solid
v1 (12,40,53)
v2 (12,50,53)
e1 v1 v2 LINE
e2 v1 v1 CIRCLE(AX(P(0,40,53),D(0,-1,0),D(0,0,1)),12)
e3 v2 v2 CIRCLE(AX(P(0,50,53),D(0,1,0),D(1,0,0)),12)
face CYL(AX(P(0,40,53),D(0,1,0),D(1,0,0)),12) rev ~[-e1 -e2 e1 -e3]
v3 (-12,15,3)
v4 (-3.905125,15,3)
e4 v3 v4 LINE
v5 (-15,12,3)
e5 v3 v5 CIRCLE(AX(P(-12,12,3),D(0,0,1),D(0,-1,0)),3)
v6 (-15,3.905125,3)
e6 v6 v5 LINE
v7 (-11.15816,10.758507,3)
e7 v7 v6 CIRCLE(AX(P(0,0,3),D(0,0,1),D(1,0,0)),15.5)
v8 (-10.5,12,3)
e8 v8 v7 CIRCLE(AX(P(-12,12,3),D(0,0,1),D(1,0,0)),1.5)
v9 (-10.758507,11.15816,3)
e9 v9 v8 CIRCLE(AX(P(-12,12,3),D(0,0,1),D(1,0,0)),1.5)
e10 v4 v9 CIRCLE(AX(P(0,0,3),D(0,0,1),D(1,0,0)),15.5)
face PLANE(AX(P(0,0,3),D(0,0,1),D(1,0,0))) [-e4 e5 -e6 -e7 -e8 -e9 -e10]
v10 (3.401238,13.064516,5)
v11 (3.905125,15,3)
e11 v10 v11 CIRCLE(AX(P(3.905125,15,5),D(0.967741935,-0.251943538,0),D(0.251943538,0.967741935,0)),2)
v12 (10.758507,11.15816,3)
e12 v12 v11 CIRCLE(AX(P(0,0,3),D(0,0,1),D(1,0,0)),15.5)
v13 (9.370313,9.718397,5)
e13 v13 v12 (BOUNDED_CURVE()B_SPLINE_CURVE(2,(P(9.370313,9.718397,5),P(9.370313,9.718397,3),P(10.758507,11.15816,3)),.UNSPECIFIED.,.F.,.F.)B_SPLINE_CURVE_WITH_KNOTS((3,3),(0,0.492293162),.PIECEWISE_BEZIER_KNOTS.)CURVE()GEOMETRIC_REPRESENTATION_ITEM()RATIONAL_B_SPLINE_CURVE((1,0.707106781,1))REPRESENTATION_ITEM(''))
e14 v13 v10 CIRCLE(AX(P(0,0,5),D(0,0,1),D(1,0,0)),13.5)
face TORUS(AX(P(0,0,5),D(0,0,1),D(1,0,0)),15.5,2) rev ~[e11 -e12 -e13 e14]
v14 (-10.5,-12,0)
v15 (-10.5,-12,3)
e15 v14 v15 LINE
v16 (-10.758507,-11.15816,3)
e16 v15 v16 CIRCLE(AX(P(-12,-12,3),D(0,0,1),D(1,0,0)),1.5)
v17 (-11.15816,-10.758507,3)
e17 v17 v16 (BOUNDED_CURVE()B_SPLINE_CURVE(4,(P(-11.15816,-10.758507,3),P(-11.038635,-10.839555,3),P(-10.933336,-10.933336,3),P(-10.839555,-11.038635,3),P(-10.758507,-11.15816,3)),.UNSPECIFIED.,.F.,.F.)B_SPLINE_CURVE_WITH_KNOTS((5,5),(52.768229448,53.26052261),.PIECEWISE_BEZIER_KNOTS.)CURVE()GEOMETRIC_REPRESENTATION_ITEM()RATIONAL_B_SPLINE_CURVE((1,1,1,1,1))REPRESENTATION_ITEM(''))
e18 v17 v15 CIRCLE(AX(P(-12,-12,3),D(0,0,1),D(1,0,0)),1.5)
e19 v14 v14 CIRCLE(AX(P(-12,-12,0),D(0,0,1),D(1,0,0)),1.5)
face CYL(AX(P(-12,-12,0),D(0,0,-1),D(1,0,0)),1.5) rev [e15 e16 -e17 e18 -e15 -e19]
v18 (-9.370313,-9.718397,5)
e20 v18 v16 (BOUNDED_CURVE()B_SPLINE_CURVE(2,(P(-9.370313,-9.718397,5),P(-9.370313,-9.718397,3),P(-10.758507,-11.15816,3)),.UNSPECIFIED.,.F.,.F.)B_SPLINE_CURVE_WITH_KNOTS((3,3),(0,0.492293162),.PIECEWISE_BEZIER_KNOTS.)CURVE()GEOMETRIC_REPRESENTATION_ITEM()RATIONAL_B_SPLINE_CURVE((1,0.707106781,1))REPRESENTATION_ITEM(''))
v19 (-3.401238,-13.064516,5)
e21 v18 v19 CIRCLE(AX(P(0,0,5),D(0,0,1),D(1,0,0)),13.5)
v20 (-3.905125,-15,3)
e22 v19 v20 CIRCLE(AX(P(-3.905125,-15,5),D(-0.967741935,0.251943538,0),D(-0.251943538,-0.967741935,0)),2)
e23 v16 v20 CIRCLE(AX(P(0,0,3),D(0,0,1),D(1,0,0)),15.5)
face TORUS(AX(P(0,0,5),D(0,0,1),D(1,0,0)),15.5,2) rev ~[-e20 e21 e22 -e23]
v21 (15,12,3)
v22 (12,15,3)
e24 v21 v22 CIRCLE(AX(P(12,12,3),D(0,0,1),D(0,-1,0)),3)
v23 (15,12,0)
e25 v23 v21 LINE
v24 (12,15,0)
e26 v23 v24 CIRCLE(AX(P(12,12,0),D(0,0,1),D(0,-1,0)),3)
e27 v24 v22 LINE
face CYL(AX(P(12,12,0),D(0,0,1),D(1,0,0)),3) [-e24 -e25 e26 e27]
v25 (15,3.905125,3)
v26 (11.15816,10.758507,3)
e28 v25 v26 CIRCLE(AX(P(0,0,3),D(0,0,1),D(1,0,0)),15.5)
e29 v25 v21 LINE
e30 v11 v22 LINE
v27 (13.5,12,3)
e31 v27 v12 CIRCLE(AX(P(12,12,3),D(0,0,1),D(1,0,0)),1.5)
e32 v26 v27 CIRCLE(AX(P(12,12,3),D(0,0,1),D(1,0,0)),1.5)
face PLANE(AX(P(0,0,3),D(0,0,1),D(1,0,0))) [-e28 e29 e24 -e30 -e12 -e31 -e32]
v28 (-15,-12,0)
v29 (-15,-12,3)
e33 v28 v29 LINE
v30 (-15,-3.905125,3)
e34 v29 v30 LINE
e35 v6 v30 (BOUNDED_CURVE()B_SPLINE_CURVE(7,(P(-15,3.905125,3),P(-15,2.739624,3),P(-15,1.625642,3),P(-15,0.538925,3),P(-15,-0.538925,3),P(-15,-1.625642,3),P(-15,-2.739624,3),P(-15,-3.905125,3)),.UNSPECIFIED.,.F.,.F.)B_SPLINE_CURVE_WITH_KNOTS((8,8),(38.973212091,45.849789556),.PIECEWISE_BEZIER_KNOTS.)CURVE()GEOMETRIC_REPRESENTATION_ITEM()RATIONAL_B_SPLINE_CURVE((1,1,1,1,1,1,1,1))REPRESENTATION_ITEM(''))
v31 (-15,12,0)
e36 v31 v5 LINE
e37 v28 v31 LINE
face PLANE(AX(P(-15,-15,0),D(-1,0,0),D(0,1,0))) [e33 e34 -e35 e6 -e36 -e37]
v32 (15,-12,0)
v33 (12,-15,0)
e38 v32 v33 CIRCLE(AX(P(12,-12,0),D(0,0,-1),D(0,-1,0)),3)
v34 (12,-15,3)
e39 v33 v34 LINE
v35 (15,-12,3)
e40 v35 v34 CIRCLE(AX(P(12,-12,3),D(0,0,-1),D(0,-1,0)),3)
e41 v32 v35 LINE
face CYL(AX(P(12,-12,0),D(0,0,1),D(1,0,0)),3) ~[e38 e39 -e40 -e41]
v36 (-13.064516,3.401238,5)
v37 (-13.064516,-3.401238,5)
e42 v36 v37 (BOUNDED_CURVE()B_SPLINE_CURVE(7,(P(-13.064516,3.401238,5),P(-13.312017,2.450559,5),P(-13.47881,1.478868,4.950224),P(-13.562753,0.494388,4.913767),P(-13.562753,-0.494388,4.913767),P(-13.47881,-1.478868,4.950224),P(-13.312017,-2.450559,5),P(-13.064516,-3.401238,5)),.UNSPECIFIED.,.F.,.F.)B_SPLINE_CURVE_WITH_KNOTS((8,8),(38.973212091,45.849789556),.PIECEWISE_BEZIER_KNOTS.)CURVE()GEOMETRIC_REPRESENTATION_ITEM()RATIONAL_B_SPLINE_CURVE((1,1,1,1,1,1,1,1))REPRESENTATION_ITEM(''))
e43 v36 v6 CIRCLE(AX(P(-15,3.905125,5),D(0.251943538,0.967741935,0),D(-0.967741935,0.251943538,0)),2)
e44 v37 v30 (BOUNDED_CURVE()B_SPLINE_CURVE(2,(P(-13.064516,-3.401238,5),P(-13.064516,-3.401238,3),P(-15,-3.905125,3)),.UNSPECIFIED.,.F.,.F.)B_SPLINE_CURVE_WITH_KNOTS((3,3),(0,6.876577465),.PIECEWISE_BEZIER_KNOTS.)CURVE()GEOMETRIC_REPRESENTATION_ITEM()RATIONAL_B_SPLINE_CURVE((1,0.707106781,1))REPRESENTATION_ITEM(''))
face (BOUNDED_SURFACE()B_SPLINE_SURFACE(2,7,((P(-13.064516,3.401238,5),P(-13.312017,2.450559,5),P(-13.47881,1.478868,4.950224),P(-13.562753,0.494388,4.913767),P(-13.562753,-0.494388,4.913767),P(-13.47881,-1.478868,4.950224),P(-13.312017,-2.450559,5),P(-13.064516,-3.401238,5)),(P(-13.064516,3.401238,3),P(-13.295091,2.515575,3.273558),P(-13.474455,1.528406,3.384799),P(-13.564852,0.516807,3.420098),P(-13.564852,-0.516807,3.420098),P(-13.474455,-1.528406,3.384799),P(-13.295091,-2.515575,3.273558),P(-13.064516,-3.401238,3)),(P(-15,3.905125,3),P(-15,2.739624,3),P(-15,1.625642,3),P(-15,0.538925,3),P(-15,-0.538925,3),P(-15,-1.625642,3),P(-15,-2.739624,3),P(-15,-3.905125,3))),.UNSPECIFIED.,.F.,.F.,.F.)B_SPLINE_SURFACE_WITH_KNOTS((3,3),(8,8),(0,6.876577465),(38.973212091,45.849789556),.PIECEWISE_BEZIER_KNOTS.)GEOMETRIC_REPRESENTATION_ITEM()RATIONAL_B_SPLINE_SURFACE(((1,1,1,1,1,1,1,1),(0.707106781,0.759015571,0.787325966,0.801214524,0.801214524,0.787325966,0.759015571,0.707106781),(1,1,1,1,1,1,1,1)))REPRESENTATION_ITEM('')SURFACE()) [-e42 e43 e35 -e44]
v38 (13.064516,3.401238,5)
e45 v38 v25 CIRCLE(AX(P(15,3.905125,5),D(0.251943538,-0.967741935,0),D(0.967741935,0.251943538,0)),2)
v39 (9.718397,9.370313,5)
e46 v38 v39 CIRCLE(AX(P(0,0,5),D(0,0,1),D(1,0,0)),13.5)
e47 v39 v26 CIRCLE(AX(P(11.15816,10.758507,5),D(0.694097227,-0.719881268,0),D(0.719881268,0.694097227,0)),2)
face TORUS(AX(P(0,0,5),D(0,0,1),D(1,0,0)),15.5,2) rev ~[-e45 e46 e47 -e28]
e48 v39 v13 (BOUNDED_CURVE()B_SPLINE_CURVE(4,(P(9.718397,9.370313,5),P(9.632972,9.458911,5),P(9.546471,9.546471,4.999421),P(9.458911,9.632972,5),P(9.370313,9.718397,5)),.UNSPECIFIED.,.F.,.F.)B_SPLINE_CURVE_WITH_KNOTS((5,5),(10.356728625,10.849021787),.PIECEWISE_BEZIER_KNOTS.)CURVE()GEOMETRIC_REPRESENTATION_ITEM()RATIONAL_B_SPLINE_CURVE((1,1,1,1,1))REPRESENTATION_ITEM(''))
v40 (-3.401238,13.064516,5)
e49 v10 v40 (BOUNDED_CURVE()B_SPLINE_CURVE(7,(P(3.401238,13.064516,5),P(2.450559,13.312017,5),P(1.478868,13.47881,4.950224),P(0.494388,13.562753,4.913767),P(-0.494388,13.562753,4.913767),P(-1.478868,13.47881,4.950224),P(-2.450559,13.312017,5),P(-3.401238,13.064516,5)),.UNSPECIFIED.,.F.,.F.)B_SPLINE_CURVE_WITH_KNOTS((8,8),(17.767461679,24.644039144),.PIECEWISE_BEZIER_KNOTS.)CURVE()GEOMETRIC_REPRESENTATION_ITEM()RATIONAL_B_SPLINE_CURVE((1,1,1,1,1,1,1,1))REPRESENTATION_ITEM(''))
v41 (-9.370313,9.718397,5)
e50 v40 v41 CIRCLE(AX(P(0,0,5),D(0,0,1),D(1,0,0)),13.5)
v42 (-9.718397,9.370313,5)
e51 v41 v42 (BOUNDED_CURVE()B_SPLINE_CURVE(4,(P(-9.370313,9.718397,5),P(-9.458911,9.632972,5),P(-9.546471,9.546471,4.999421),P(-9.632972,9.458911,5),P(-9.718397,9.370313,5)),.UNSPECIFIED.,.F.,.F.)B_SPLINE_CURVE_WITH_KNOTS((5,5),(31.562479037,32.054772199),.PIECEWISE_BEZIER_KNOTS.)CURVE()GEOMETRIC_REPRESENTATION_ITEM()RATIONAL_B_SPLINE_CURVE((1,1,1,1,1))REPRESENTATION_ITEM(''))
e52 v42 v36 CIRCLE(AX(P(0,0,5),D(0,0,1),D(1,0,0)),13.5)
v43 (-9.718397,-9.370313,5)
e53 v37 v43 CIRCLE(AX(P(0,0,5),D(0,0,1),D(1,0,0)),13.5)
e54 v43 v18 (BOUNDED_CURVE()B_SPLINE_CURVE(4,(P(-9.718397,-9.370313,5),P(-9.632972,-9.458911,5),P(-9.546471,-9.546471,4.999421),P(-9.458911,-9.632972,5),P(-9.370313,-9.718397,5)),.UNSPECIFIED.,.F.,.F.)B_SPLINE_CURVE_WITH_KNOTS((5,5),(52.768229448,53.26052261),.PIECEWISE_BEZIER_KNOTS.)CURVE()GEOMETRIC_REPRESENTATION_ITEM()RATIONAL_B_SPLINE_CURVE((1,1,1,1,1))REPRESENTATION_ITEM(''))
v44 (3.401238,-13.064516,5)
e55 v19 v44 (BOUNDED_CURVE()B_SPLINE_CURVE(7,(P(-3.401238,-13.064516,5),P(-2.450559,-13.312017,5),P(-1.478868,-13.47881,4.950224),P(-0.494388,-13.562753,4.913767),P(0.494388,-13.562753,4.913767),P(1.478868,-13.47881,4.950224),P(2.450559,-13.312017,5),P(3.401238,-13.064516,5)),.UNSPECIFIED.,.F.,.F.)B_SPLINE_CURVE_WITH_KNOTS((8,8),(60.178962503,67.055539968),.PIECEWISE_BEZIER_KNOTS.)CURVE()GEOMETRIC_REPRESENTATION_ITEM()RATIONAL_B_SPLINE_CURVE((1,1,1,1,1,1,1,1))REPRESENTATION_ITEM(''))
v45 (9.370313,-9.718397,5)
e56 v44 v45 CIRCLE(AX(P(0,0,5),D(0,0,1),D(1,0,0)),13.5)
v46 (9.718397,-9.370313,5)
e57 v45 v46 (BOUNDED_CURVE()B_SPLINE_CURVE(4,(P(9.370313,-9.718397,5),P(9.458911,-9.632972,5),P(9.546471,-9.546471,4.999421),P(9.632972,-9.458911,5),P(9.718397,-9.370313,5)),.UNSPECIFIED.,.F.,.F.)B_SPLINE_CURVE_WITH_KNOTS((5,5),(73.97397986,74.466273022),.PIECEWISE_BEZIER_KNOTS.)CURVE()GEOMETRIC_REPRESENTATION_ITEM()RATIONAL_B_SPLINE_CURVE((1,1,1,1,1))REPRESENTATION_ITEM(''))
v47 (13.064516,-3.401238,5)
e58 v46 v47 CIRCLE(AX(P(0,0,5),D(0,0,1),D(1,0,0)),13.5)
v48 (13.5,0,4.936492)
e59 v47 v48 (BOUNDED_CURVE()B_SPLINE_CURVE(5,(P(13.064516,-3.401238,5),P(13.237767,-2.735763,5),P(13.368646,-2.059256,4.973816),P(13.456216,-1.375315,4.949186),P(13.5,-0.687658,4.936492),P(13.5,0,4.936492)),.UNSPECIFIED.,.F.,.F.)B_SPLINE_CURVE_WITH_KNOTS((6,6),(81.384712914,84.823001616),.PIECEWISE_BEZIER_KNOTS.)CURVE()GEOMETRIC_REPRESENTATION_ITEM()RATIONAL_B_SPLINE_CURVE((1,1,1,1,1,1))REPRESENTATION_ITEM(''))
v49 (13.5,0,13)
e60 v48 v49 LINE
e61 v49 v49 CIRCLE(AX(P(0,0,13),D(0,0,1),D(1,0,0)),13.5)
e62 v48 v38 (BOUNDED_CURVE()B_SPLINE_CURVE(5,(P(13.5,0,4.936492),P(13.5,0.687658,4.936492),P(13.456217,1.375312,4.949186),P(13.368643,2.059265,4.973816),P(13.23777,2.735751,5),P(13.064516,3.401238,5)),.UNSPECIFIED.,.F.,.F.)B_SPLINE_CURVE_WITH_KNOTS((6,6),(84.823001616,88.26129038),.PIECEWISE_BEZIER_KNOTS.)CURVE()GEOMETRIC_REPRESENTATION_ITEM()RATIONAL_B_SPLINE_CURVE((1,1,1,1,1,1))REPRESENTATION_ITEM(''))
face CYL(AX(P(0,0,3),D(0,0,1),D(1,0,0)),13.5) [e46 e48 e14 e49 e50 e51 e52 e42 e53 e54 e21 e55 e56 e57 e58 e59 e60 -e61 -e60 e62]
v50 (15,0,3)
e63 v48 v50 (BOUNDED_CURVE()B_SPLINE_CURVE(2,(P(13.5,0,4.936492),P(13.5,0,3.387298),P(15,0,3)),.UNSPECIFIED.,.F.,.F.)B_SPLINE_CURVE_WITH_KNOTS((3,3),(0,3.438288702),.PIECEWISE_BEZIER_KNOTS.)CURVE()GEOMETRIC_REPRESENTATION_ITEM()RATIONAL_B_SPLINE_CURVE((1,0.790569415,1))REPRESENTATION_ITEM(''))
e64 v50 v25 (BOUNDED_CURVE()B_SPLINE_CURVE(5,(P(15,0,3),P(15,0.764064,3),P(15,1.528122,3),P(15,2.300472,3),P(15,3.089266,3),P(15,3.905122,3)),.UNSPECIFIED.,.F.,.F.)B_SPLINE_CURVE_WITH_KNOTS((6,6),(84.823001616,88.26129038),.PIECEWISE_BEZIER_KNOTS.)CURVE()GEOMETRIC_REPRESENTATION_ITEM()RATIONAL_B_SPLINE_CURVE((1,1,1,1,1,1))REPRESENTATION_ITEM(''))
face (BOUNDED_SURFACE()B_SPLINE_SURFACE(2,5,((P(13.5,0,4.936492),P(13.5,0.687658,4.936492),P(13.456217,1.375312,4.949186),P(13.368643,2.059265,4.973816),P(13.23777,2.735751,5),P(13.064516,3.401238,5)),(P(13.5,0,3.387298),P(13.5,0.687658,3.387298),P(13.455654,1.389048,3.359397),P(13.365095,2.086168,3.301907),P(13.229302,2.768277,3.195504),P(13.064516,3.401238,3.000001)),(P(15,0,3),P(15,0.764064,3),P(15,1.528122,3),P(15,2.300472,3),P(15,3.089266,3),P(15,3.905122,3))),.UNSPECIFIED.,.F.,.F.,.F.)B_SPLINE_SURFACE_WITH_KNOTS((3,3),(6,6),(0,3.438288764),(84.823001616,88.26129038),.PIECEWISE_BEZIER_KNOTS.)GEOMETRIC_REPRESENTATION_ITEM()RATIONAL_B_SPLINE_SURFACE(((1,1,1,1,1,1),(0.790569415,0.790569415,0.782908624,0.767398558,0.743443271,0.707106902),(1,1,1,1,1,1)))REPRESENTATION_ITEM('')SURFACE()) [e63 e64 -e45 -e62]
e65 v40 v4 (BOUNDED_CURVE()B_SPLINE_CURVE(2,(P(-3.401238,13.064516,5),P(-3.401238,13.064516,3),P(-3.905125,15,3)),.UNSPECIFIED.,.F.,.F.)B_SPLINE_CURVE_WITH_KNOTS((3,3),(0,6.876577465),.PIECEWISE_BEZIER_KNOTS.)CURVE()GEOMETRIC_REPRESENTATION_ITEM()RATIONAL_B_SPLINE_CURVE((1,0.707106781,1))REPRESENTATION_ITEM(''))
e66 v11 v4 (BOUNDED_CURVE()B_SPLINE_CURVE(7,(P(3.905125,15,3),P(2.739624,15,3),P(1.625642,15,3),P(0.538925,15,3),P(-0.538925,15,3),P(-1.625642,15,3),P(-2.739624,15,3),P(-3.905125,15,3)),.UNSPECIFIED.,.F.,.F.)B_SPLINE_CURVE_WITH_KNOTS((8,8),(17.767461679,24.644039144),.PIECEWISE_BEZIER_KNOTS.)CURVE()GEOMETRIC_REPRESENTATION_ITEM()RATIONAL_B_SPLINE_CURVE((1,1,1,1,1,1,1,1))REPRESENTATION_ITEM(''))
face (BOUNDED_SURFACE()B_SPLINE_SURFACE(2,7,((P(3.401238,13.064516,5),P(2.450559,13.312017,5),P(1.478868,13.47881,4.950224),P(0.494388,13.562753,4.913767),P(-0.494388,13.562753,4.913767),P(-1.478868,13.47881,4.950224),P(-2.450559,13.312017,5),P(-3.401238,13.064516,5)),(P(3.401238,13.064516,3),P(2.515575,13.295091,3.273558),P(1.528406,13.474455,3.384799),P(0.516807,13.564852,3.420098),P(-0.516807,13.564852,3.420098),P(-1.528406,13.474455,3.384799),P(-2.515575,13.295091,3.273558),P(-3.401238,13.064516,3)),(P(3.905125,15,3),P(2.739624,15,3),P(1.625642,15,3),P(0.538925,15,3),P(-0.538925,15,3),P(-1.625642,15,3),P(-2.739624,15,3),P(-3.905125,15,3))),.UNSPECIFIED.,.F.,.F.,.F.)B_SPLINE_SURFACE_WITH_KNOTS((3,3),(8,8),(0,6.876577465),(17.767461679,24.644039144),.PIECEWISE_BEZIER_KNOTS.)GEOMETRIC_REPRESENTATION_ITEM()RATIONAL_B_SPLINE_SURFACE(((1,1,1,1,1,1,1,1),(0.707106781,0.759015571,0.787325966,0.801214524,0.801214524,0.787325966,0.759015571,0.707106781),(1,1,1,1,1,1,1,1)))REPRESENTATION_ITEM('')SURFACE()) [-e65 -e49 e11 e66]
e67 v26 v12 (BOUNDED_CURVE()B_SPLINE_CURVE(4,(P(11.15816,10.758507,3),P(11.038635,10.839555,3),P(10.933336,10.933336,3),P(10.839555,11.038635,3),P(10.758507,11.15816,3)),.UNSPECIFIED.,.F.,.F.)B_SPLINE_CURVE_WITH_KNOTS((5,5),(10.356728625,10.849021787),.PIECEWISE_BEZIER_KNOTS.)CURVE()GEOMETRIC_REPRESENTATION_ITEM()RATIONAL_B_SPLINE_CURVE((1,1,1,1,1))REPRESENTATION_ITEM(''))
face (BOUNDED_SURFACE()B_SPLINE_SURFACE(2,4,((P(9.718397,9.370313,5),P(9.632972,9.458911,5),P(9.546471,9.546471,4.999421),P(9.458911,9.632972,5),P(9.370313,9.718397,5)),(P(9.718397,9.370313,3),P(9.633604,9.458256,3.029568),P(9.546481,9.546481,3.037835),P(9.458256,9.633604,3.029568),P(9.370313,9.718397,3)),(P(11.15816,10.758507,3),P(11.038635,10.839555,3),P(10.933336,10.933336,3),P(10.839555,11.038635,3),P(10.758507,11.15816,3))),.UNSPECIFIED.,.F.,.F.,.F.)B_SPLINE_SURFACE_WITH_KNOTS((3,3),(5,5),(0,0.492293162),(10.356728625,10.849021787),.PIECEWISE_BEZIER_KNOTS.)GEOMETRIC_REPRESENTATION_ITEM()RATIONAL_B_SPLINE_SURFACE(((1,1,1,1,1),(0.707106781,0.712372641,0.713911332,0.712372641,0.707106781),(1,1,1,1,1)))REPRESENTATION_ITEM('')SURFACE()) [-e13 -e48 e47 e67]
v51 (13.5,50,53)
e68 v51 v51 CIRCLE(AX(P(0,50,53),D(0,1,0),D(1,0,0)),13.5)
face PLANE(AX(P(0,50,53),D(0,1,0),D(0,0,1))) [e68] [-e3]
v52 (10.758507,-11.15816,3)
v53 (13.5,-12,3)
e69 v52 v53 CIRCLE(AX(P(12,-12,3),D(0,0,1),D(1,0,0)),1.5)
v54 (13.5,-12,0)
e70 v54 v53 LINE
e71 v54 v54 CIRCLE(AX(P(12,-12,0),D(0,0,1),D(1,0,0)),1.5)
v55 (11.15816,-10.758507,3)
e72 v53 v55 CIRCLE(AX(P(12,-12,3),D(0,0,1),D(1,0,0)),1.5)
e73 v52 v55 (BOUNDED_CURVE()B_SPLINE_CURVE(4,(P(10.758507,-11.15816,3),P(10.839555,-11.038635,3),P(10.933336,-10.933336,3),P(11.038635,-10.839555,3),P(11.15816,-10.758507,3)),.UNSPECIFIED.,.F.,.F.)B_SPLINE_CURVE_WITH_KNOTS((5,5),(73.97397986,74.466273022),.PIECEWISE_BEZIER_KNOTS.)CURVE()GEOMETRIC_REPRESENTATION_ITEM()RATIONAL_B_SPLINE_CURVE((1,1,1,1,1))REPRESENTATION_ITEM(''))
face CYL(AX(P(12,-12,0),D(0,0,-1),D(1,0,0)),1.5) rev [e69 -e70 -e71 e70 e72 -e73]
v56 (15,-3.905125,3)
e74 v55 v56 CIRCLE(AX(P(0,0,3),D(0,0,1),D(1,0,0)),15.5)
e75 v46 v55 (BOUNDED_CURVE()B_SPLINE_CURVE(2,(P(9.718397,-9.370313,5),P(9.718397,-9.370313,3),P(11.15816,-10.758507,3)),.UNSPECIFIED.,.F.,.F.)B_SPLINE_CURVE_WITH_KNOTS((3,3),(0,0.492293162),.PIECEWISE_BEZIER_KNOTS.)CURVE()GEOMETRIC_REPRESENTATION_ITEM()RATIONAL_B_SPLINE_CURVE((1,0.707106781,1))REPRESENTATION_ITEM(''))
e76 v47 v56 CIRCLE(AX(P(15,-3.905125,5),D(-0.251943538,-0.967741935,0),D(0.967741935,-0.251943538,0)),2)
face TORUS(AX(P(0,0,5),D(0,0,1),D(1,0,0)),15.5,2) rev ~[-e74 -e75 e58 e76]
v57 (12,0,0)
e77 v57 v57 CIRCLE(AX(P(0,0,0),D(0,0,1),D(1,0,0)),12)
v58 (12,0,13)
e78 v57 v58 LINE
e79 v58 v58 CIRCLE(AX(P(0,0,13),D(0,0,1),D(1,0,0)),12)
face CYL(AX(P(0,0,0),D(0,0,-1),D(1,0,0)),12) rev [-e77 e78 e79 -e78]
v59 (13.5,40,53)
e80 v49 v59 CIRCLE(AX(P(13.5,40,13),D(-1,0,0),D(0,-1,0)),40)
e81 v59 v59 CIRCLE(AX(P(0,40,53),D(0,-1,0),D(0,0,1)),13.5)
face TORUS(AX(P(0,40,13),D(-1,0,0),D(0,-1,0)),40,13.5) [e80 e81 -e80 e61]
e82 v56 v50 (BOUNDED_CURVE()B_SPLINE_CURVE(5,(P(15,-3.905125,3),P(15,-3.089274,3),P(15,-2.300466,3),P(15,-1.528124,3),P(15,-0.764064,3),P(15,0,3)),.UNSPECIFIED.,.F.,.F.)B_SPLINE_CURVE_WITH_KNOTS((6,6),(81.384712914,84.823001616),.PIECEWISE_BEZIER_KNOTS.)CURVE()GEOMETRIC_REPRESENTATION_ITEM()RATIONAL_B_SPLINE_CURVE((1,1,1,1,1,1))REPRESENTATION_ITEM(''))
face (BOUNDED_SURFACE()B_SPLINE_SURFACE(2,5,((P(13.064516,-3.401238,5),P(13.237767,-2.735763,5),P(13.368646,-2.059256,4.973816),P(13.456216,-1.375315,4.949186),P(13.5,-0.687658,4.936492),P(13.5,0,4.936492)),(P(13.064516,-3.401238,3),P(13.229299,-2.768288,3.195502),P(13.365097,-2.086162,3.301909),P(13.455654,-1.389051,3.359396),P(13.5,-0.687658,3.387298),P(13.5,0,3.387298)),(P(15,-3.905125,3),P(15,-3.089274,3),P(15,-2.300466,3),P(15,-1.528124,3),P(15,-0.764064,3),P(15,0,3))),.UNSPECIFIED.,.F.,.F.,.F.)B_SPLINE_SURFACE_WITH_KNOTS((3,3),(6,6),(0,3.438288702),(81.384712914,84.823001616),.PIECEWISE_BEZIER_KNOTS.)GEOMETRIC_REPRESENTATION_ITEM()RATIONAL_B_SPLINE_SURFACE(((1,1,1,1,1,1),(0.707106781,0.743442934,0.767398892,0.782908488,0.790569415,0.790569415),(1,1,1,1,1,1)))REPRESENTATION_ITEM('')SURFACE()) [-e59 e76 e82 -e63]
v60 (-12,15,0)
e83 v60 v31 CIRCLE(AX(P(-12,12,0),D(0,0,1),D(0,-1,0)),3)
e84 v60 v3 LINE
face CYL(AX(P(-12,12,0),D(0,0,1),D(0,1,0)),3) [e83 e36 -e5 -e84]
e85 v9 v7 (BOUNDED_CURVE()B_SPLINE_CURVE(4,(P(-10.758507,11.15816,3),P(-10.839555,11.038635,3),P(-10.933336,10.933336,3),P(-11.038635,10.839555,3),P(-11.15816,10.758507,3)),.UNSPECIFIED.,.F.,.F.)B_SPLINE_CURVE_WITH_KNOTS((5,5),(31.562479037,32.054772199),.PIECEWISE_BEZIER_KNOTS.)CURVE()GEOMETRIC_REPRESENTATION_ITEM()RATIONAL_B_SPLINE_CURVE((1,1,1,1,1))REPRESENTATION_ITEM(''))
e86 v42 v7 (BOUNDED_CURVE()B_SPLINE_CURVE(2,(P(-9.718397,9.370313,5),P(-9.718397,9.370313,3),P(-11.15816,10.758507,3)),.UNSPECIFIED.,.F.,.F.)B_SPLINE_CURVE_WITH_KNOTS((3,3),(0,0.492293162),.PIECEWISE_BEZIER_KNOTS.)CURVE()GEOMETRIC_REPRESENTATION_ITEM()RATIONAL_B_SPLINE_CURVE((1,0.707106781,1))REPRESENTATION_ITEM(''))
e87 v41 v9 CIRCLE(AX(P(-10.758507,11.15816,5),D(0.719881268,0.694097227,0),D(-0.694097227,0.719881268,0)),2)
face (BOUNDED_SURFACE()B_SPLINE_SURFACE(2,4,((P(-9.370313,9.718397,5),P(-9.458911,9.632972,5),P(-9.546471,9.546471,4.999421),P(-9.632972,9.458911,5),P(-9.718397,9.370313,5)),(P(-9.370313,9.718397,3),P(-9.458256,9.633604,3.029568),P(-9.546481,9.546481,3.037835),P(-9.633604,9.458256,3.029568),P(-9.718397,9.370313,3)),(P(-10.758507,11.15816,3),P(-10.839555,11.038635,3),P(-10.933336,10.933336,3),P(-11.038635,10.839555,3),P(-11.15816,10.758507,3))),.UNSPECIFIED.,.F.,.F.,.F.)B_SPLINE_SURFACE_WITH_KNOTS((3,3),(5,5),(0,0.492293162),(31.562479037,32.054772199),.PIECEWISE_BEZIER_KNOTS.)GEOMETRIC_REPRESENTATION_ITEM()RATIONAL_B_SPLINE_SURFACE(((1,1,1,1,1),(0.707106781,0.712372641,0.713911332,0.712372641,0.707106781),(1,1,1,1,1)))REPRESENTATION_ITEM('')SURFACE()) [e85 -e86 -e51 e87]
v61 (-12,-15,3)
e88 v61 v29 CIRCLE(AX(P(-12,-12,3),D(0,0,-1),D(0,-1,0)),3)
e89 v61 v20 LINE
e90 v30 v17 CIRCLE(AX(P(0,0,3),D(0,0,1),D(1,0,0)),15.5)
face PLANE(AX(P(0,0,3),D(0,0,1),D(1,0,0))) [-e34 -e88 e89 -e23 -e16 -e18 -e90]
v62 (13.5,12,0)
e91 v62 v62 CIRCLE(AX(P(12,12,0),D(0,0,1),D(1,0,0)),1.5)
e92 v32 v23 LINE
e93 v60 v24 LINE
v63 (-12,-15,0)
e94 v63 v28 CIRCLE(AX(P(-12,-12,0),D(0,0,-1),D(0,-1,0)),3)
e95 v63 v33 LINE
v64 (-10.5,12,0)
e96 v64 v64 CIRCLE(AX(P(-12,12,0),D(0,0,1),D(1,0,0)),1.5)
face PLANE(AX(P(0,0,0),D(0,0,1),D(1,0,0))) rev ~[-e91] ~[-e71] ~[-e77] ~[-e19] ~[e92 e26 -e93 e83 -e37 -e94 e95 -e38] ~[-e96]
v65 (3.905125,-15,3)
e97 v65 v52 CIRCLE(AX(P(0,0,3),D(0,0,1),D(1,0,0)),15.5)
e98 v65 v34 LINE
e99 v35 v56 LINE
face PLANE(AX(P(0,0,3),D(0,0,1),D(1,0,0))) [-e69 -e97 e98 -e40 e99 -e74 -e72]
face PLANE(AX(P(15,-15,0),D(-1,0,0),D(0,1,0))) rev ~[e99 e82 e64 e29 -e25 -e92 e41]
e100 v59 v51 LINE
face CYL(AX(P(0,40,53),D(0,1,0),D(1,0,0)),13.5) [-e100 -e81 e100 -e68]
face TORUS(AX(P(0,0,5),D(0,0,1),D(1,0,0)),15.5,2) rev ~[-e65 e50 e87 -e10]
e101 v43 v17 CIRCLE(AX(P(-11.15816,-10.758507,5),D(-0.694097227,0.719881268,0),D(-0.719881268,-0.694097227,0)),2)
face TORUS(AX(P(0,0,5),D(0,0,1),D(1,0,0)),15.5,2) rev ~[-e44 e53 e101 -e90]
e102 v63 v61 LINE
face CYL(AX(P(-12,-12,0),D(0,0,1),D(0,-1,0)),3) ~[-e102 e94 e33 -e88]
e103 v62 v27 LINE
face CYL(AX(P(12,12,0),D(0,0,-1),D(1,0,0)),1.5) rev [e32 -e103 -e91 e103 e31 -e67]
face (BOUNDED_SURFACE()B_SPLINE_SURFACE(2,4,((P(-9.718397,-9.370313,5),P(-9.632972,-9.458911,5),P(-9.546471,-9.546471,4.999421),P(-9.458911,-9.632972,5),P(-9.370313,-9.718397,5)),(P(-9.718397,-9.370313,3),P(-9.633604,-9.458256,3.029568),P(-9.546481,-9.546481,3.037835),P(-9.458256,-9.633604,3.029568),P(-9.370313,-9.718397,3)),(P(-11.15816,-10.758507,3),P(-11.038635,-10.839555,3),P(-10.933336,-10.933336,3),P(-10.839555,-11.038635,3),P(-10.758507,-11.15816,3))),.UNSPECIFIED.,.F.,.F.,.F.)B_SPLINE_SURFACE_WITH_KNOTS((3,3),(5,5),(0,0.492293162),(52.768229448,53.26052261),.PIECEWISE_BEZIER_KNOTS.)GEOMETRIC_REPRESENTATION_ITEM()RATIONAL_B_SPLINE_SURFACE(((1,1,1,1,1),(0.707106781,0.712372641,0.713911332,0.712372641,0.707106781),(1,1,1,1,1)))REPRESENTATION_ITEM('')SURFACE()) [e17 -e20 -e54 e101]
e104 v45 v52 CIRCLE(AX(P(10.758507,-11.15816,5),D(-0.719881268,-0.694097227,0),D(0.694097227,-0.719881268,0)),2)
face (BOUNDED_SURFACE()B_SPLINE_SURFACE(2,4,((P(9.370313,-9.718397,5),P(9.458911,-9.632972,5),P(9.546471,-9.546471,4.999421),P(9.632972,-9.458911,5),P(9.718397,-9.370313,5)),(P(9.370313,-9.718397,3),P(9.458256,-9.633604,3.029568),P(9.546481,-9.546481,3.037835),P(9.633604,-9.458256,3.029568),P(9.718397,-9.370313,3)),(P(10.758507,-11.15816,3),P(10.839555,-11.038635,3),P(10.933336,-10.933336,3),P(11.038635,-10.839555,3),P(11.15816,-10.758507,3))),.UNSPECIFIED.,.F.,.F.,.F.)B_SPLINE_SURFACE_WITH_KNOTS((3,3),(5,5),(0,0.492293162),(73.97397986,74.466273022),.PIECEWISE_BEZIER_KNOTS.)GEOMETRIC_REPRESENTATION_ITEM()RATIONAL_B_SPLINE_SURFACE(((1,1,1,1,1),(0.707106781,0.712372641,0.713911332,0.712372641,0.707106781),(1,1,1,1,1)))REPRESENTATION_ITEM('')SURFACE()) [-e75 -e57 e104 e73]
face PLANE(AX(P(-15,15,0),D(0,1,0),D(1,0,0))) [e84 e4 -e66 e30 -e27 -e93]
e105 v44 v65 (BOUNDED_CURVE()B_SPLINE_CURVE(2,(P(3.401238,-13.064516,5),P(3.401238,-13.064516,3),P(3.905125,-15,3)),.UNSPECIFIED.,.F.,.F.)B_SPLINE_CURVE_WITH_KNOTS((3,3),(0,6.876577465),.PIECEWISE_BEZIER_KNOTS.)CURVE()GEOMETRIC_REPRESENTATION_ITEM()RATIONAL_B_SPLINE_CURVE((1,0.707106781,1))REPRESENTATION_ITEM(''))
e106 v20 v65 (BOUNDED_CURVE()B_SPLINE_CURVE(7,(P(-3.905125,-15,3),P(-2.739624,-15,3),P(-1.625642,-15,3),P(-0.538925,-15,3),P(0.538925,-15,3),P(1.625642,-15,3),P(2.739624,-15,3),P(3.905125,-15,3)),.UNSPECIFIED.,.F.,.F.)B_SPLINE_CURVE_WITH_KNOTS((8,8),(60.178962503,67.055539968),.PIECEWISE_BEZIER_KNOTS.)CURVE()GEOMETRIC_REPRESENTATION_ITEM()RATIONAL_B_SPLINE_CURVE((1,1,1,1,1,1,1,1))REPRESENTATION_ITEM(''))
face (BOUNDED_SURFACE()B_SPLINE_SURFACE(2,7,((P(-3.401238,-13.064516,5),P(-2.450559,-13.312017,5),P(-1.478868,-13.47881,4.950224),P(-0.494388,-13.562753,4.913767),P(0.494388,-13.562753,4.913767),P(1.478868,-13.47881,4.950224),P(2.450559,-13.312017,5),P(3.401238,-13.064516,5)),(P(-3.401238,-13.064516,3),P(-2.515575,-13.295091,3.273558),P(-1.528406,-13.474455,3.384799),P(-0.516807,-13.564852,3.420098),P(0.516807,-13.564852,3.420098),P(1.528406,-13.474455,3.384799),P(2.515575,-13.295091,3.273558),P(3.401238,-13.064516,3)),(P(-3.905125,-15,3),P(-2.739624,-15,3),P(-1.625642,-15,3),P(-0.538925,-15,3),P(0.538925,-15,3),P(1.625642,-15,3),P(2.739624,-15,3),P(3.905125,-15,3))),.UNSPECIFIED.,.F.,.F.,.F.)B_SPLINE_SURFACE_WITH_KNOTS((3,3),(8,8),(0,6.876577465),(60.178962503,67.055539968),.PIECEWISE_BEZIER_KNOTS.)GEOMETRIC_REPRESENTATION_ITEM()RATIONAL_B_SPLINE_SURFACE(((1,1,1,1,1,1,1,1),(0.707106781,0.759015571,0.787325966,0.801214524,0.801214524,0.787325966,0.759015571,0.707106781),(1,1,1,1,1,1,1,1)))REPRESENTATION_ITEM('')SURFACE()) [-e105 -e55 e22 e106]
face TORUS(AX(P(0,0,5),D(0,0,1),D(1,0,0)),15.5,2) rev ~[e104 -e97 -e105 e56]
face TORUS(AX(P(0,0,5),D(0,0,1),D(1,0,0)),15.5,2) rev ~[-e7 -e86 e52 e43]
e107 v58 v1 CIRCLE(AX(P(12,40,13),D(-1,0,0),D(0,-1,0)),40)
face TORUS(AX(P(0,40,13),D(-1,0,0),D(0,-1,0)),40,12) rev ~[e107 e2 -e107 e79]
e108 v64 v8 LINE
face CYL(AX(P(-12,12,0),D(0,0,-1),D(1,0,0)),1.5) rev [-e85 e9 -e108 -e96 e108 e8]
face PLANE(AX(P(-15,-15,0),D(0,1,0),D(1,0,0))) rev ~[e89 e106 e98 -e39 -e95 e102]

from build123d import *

# Parameters (mm, degrees)
ESQUISSE1_W        = 30
ESQUISSE1_H        = 30
ESQUISSE1_R        = 12
ESQUISSE1_R_2      = 1.5
BOSS_EXTRU_1_DEPTH = 3
ESQUISSE4_R        = 13.5
ESQUISSE4_R_2      = 12
CONG_1_R           = 2
CONG_2_R           = 3


with BuildPart() as part:
    # Esquisse1 → Boss.-Extru.1 (new body)
    with BuildSketch(Plane.XY):
        Rectangle(ESQUISSE1_W, ESQUISSE1_H)
        Circle(ESQUISSE1_R, mode=Mode.SUBTRACT)
        with Locations((-12, 12)):
            Circle(ESQUISSE1_R_2, mode=Mode.SUBTRACT)
        with Locations((12, 12)):
            Circle(ESQUISSE1_R_2, mode=Mode.SUBTRACT)
        with Locations((12, -12)):
            Circle(ESQUISSE1_R_2, mode=Mode.SUBTRACT)
        with Locations((-12, -12)):
            Circle(ESQUISSE1_R_2, mode=Mode.SUBTRACT)
    extrude(amount=BOSS_EXTRU_1_DEPTH)

    # Balayage-Mince1: sweep along a path in Esquisse2
    with BuildLine(Plane(origin=(0, 0, 0), x_dir=(0, 0, -1), z_dir=(1, 0, 0))) as balayage_mince1_path:
        Line((-3, 0), (-13, 0))
        ThreePointArc((-13, 0), (-41.284271247, 11.715728753), (-53, 40))
        Line((-53, 40), (-53, 50))
    # Esquisse4 → Balayage-Mince1 (sweep)
    with BuildSketch(Plane.XY.offset(3)):
        Circle(ESQUISSE4_R)
        Circle(ESQUISSE4_R_2, mode=Mode.SUBTRACT)
    sweep(path=balayage_mince1_path.line)

    # Congé1
    cong_1_edges = [part.edges().sort_by_distance(p)[0] for p in [
        (-13.5, 0, 3),
    ]]
    fillet(cong_1_edges, radius=CONG_1_R)

    # Congé2
    cong_2_edges = [part.edges().sort_by_distance(p)[0] for p in [
        (15, -15, 1.5),
        (-15, -15, 1.5),
        (-15, 15, 1.5),
        (15, 15, 1.5),
    ]]
    fillet(cong_2_edges, radius=CONG_2_R)


solid = part.part
